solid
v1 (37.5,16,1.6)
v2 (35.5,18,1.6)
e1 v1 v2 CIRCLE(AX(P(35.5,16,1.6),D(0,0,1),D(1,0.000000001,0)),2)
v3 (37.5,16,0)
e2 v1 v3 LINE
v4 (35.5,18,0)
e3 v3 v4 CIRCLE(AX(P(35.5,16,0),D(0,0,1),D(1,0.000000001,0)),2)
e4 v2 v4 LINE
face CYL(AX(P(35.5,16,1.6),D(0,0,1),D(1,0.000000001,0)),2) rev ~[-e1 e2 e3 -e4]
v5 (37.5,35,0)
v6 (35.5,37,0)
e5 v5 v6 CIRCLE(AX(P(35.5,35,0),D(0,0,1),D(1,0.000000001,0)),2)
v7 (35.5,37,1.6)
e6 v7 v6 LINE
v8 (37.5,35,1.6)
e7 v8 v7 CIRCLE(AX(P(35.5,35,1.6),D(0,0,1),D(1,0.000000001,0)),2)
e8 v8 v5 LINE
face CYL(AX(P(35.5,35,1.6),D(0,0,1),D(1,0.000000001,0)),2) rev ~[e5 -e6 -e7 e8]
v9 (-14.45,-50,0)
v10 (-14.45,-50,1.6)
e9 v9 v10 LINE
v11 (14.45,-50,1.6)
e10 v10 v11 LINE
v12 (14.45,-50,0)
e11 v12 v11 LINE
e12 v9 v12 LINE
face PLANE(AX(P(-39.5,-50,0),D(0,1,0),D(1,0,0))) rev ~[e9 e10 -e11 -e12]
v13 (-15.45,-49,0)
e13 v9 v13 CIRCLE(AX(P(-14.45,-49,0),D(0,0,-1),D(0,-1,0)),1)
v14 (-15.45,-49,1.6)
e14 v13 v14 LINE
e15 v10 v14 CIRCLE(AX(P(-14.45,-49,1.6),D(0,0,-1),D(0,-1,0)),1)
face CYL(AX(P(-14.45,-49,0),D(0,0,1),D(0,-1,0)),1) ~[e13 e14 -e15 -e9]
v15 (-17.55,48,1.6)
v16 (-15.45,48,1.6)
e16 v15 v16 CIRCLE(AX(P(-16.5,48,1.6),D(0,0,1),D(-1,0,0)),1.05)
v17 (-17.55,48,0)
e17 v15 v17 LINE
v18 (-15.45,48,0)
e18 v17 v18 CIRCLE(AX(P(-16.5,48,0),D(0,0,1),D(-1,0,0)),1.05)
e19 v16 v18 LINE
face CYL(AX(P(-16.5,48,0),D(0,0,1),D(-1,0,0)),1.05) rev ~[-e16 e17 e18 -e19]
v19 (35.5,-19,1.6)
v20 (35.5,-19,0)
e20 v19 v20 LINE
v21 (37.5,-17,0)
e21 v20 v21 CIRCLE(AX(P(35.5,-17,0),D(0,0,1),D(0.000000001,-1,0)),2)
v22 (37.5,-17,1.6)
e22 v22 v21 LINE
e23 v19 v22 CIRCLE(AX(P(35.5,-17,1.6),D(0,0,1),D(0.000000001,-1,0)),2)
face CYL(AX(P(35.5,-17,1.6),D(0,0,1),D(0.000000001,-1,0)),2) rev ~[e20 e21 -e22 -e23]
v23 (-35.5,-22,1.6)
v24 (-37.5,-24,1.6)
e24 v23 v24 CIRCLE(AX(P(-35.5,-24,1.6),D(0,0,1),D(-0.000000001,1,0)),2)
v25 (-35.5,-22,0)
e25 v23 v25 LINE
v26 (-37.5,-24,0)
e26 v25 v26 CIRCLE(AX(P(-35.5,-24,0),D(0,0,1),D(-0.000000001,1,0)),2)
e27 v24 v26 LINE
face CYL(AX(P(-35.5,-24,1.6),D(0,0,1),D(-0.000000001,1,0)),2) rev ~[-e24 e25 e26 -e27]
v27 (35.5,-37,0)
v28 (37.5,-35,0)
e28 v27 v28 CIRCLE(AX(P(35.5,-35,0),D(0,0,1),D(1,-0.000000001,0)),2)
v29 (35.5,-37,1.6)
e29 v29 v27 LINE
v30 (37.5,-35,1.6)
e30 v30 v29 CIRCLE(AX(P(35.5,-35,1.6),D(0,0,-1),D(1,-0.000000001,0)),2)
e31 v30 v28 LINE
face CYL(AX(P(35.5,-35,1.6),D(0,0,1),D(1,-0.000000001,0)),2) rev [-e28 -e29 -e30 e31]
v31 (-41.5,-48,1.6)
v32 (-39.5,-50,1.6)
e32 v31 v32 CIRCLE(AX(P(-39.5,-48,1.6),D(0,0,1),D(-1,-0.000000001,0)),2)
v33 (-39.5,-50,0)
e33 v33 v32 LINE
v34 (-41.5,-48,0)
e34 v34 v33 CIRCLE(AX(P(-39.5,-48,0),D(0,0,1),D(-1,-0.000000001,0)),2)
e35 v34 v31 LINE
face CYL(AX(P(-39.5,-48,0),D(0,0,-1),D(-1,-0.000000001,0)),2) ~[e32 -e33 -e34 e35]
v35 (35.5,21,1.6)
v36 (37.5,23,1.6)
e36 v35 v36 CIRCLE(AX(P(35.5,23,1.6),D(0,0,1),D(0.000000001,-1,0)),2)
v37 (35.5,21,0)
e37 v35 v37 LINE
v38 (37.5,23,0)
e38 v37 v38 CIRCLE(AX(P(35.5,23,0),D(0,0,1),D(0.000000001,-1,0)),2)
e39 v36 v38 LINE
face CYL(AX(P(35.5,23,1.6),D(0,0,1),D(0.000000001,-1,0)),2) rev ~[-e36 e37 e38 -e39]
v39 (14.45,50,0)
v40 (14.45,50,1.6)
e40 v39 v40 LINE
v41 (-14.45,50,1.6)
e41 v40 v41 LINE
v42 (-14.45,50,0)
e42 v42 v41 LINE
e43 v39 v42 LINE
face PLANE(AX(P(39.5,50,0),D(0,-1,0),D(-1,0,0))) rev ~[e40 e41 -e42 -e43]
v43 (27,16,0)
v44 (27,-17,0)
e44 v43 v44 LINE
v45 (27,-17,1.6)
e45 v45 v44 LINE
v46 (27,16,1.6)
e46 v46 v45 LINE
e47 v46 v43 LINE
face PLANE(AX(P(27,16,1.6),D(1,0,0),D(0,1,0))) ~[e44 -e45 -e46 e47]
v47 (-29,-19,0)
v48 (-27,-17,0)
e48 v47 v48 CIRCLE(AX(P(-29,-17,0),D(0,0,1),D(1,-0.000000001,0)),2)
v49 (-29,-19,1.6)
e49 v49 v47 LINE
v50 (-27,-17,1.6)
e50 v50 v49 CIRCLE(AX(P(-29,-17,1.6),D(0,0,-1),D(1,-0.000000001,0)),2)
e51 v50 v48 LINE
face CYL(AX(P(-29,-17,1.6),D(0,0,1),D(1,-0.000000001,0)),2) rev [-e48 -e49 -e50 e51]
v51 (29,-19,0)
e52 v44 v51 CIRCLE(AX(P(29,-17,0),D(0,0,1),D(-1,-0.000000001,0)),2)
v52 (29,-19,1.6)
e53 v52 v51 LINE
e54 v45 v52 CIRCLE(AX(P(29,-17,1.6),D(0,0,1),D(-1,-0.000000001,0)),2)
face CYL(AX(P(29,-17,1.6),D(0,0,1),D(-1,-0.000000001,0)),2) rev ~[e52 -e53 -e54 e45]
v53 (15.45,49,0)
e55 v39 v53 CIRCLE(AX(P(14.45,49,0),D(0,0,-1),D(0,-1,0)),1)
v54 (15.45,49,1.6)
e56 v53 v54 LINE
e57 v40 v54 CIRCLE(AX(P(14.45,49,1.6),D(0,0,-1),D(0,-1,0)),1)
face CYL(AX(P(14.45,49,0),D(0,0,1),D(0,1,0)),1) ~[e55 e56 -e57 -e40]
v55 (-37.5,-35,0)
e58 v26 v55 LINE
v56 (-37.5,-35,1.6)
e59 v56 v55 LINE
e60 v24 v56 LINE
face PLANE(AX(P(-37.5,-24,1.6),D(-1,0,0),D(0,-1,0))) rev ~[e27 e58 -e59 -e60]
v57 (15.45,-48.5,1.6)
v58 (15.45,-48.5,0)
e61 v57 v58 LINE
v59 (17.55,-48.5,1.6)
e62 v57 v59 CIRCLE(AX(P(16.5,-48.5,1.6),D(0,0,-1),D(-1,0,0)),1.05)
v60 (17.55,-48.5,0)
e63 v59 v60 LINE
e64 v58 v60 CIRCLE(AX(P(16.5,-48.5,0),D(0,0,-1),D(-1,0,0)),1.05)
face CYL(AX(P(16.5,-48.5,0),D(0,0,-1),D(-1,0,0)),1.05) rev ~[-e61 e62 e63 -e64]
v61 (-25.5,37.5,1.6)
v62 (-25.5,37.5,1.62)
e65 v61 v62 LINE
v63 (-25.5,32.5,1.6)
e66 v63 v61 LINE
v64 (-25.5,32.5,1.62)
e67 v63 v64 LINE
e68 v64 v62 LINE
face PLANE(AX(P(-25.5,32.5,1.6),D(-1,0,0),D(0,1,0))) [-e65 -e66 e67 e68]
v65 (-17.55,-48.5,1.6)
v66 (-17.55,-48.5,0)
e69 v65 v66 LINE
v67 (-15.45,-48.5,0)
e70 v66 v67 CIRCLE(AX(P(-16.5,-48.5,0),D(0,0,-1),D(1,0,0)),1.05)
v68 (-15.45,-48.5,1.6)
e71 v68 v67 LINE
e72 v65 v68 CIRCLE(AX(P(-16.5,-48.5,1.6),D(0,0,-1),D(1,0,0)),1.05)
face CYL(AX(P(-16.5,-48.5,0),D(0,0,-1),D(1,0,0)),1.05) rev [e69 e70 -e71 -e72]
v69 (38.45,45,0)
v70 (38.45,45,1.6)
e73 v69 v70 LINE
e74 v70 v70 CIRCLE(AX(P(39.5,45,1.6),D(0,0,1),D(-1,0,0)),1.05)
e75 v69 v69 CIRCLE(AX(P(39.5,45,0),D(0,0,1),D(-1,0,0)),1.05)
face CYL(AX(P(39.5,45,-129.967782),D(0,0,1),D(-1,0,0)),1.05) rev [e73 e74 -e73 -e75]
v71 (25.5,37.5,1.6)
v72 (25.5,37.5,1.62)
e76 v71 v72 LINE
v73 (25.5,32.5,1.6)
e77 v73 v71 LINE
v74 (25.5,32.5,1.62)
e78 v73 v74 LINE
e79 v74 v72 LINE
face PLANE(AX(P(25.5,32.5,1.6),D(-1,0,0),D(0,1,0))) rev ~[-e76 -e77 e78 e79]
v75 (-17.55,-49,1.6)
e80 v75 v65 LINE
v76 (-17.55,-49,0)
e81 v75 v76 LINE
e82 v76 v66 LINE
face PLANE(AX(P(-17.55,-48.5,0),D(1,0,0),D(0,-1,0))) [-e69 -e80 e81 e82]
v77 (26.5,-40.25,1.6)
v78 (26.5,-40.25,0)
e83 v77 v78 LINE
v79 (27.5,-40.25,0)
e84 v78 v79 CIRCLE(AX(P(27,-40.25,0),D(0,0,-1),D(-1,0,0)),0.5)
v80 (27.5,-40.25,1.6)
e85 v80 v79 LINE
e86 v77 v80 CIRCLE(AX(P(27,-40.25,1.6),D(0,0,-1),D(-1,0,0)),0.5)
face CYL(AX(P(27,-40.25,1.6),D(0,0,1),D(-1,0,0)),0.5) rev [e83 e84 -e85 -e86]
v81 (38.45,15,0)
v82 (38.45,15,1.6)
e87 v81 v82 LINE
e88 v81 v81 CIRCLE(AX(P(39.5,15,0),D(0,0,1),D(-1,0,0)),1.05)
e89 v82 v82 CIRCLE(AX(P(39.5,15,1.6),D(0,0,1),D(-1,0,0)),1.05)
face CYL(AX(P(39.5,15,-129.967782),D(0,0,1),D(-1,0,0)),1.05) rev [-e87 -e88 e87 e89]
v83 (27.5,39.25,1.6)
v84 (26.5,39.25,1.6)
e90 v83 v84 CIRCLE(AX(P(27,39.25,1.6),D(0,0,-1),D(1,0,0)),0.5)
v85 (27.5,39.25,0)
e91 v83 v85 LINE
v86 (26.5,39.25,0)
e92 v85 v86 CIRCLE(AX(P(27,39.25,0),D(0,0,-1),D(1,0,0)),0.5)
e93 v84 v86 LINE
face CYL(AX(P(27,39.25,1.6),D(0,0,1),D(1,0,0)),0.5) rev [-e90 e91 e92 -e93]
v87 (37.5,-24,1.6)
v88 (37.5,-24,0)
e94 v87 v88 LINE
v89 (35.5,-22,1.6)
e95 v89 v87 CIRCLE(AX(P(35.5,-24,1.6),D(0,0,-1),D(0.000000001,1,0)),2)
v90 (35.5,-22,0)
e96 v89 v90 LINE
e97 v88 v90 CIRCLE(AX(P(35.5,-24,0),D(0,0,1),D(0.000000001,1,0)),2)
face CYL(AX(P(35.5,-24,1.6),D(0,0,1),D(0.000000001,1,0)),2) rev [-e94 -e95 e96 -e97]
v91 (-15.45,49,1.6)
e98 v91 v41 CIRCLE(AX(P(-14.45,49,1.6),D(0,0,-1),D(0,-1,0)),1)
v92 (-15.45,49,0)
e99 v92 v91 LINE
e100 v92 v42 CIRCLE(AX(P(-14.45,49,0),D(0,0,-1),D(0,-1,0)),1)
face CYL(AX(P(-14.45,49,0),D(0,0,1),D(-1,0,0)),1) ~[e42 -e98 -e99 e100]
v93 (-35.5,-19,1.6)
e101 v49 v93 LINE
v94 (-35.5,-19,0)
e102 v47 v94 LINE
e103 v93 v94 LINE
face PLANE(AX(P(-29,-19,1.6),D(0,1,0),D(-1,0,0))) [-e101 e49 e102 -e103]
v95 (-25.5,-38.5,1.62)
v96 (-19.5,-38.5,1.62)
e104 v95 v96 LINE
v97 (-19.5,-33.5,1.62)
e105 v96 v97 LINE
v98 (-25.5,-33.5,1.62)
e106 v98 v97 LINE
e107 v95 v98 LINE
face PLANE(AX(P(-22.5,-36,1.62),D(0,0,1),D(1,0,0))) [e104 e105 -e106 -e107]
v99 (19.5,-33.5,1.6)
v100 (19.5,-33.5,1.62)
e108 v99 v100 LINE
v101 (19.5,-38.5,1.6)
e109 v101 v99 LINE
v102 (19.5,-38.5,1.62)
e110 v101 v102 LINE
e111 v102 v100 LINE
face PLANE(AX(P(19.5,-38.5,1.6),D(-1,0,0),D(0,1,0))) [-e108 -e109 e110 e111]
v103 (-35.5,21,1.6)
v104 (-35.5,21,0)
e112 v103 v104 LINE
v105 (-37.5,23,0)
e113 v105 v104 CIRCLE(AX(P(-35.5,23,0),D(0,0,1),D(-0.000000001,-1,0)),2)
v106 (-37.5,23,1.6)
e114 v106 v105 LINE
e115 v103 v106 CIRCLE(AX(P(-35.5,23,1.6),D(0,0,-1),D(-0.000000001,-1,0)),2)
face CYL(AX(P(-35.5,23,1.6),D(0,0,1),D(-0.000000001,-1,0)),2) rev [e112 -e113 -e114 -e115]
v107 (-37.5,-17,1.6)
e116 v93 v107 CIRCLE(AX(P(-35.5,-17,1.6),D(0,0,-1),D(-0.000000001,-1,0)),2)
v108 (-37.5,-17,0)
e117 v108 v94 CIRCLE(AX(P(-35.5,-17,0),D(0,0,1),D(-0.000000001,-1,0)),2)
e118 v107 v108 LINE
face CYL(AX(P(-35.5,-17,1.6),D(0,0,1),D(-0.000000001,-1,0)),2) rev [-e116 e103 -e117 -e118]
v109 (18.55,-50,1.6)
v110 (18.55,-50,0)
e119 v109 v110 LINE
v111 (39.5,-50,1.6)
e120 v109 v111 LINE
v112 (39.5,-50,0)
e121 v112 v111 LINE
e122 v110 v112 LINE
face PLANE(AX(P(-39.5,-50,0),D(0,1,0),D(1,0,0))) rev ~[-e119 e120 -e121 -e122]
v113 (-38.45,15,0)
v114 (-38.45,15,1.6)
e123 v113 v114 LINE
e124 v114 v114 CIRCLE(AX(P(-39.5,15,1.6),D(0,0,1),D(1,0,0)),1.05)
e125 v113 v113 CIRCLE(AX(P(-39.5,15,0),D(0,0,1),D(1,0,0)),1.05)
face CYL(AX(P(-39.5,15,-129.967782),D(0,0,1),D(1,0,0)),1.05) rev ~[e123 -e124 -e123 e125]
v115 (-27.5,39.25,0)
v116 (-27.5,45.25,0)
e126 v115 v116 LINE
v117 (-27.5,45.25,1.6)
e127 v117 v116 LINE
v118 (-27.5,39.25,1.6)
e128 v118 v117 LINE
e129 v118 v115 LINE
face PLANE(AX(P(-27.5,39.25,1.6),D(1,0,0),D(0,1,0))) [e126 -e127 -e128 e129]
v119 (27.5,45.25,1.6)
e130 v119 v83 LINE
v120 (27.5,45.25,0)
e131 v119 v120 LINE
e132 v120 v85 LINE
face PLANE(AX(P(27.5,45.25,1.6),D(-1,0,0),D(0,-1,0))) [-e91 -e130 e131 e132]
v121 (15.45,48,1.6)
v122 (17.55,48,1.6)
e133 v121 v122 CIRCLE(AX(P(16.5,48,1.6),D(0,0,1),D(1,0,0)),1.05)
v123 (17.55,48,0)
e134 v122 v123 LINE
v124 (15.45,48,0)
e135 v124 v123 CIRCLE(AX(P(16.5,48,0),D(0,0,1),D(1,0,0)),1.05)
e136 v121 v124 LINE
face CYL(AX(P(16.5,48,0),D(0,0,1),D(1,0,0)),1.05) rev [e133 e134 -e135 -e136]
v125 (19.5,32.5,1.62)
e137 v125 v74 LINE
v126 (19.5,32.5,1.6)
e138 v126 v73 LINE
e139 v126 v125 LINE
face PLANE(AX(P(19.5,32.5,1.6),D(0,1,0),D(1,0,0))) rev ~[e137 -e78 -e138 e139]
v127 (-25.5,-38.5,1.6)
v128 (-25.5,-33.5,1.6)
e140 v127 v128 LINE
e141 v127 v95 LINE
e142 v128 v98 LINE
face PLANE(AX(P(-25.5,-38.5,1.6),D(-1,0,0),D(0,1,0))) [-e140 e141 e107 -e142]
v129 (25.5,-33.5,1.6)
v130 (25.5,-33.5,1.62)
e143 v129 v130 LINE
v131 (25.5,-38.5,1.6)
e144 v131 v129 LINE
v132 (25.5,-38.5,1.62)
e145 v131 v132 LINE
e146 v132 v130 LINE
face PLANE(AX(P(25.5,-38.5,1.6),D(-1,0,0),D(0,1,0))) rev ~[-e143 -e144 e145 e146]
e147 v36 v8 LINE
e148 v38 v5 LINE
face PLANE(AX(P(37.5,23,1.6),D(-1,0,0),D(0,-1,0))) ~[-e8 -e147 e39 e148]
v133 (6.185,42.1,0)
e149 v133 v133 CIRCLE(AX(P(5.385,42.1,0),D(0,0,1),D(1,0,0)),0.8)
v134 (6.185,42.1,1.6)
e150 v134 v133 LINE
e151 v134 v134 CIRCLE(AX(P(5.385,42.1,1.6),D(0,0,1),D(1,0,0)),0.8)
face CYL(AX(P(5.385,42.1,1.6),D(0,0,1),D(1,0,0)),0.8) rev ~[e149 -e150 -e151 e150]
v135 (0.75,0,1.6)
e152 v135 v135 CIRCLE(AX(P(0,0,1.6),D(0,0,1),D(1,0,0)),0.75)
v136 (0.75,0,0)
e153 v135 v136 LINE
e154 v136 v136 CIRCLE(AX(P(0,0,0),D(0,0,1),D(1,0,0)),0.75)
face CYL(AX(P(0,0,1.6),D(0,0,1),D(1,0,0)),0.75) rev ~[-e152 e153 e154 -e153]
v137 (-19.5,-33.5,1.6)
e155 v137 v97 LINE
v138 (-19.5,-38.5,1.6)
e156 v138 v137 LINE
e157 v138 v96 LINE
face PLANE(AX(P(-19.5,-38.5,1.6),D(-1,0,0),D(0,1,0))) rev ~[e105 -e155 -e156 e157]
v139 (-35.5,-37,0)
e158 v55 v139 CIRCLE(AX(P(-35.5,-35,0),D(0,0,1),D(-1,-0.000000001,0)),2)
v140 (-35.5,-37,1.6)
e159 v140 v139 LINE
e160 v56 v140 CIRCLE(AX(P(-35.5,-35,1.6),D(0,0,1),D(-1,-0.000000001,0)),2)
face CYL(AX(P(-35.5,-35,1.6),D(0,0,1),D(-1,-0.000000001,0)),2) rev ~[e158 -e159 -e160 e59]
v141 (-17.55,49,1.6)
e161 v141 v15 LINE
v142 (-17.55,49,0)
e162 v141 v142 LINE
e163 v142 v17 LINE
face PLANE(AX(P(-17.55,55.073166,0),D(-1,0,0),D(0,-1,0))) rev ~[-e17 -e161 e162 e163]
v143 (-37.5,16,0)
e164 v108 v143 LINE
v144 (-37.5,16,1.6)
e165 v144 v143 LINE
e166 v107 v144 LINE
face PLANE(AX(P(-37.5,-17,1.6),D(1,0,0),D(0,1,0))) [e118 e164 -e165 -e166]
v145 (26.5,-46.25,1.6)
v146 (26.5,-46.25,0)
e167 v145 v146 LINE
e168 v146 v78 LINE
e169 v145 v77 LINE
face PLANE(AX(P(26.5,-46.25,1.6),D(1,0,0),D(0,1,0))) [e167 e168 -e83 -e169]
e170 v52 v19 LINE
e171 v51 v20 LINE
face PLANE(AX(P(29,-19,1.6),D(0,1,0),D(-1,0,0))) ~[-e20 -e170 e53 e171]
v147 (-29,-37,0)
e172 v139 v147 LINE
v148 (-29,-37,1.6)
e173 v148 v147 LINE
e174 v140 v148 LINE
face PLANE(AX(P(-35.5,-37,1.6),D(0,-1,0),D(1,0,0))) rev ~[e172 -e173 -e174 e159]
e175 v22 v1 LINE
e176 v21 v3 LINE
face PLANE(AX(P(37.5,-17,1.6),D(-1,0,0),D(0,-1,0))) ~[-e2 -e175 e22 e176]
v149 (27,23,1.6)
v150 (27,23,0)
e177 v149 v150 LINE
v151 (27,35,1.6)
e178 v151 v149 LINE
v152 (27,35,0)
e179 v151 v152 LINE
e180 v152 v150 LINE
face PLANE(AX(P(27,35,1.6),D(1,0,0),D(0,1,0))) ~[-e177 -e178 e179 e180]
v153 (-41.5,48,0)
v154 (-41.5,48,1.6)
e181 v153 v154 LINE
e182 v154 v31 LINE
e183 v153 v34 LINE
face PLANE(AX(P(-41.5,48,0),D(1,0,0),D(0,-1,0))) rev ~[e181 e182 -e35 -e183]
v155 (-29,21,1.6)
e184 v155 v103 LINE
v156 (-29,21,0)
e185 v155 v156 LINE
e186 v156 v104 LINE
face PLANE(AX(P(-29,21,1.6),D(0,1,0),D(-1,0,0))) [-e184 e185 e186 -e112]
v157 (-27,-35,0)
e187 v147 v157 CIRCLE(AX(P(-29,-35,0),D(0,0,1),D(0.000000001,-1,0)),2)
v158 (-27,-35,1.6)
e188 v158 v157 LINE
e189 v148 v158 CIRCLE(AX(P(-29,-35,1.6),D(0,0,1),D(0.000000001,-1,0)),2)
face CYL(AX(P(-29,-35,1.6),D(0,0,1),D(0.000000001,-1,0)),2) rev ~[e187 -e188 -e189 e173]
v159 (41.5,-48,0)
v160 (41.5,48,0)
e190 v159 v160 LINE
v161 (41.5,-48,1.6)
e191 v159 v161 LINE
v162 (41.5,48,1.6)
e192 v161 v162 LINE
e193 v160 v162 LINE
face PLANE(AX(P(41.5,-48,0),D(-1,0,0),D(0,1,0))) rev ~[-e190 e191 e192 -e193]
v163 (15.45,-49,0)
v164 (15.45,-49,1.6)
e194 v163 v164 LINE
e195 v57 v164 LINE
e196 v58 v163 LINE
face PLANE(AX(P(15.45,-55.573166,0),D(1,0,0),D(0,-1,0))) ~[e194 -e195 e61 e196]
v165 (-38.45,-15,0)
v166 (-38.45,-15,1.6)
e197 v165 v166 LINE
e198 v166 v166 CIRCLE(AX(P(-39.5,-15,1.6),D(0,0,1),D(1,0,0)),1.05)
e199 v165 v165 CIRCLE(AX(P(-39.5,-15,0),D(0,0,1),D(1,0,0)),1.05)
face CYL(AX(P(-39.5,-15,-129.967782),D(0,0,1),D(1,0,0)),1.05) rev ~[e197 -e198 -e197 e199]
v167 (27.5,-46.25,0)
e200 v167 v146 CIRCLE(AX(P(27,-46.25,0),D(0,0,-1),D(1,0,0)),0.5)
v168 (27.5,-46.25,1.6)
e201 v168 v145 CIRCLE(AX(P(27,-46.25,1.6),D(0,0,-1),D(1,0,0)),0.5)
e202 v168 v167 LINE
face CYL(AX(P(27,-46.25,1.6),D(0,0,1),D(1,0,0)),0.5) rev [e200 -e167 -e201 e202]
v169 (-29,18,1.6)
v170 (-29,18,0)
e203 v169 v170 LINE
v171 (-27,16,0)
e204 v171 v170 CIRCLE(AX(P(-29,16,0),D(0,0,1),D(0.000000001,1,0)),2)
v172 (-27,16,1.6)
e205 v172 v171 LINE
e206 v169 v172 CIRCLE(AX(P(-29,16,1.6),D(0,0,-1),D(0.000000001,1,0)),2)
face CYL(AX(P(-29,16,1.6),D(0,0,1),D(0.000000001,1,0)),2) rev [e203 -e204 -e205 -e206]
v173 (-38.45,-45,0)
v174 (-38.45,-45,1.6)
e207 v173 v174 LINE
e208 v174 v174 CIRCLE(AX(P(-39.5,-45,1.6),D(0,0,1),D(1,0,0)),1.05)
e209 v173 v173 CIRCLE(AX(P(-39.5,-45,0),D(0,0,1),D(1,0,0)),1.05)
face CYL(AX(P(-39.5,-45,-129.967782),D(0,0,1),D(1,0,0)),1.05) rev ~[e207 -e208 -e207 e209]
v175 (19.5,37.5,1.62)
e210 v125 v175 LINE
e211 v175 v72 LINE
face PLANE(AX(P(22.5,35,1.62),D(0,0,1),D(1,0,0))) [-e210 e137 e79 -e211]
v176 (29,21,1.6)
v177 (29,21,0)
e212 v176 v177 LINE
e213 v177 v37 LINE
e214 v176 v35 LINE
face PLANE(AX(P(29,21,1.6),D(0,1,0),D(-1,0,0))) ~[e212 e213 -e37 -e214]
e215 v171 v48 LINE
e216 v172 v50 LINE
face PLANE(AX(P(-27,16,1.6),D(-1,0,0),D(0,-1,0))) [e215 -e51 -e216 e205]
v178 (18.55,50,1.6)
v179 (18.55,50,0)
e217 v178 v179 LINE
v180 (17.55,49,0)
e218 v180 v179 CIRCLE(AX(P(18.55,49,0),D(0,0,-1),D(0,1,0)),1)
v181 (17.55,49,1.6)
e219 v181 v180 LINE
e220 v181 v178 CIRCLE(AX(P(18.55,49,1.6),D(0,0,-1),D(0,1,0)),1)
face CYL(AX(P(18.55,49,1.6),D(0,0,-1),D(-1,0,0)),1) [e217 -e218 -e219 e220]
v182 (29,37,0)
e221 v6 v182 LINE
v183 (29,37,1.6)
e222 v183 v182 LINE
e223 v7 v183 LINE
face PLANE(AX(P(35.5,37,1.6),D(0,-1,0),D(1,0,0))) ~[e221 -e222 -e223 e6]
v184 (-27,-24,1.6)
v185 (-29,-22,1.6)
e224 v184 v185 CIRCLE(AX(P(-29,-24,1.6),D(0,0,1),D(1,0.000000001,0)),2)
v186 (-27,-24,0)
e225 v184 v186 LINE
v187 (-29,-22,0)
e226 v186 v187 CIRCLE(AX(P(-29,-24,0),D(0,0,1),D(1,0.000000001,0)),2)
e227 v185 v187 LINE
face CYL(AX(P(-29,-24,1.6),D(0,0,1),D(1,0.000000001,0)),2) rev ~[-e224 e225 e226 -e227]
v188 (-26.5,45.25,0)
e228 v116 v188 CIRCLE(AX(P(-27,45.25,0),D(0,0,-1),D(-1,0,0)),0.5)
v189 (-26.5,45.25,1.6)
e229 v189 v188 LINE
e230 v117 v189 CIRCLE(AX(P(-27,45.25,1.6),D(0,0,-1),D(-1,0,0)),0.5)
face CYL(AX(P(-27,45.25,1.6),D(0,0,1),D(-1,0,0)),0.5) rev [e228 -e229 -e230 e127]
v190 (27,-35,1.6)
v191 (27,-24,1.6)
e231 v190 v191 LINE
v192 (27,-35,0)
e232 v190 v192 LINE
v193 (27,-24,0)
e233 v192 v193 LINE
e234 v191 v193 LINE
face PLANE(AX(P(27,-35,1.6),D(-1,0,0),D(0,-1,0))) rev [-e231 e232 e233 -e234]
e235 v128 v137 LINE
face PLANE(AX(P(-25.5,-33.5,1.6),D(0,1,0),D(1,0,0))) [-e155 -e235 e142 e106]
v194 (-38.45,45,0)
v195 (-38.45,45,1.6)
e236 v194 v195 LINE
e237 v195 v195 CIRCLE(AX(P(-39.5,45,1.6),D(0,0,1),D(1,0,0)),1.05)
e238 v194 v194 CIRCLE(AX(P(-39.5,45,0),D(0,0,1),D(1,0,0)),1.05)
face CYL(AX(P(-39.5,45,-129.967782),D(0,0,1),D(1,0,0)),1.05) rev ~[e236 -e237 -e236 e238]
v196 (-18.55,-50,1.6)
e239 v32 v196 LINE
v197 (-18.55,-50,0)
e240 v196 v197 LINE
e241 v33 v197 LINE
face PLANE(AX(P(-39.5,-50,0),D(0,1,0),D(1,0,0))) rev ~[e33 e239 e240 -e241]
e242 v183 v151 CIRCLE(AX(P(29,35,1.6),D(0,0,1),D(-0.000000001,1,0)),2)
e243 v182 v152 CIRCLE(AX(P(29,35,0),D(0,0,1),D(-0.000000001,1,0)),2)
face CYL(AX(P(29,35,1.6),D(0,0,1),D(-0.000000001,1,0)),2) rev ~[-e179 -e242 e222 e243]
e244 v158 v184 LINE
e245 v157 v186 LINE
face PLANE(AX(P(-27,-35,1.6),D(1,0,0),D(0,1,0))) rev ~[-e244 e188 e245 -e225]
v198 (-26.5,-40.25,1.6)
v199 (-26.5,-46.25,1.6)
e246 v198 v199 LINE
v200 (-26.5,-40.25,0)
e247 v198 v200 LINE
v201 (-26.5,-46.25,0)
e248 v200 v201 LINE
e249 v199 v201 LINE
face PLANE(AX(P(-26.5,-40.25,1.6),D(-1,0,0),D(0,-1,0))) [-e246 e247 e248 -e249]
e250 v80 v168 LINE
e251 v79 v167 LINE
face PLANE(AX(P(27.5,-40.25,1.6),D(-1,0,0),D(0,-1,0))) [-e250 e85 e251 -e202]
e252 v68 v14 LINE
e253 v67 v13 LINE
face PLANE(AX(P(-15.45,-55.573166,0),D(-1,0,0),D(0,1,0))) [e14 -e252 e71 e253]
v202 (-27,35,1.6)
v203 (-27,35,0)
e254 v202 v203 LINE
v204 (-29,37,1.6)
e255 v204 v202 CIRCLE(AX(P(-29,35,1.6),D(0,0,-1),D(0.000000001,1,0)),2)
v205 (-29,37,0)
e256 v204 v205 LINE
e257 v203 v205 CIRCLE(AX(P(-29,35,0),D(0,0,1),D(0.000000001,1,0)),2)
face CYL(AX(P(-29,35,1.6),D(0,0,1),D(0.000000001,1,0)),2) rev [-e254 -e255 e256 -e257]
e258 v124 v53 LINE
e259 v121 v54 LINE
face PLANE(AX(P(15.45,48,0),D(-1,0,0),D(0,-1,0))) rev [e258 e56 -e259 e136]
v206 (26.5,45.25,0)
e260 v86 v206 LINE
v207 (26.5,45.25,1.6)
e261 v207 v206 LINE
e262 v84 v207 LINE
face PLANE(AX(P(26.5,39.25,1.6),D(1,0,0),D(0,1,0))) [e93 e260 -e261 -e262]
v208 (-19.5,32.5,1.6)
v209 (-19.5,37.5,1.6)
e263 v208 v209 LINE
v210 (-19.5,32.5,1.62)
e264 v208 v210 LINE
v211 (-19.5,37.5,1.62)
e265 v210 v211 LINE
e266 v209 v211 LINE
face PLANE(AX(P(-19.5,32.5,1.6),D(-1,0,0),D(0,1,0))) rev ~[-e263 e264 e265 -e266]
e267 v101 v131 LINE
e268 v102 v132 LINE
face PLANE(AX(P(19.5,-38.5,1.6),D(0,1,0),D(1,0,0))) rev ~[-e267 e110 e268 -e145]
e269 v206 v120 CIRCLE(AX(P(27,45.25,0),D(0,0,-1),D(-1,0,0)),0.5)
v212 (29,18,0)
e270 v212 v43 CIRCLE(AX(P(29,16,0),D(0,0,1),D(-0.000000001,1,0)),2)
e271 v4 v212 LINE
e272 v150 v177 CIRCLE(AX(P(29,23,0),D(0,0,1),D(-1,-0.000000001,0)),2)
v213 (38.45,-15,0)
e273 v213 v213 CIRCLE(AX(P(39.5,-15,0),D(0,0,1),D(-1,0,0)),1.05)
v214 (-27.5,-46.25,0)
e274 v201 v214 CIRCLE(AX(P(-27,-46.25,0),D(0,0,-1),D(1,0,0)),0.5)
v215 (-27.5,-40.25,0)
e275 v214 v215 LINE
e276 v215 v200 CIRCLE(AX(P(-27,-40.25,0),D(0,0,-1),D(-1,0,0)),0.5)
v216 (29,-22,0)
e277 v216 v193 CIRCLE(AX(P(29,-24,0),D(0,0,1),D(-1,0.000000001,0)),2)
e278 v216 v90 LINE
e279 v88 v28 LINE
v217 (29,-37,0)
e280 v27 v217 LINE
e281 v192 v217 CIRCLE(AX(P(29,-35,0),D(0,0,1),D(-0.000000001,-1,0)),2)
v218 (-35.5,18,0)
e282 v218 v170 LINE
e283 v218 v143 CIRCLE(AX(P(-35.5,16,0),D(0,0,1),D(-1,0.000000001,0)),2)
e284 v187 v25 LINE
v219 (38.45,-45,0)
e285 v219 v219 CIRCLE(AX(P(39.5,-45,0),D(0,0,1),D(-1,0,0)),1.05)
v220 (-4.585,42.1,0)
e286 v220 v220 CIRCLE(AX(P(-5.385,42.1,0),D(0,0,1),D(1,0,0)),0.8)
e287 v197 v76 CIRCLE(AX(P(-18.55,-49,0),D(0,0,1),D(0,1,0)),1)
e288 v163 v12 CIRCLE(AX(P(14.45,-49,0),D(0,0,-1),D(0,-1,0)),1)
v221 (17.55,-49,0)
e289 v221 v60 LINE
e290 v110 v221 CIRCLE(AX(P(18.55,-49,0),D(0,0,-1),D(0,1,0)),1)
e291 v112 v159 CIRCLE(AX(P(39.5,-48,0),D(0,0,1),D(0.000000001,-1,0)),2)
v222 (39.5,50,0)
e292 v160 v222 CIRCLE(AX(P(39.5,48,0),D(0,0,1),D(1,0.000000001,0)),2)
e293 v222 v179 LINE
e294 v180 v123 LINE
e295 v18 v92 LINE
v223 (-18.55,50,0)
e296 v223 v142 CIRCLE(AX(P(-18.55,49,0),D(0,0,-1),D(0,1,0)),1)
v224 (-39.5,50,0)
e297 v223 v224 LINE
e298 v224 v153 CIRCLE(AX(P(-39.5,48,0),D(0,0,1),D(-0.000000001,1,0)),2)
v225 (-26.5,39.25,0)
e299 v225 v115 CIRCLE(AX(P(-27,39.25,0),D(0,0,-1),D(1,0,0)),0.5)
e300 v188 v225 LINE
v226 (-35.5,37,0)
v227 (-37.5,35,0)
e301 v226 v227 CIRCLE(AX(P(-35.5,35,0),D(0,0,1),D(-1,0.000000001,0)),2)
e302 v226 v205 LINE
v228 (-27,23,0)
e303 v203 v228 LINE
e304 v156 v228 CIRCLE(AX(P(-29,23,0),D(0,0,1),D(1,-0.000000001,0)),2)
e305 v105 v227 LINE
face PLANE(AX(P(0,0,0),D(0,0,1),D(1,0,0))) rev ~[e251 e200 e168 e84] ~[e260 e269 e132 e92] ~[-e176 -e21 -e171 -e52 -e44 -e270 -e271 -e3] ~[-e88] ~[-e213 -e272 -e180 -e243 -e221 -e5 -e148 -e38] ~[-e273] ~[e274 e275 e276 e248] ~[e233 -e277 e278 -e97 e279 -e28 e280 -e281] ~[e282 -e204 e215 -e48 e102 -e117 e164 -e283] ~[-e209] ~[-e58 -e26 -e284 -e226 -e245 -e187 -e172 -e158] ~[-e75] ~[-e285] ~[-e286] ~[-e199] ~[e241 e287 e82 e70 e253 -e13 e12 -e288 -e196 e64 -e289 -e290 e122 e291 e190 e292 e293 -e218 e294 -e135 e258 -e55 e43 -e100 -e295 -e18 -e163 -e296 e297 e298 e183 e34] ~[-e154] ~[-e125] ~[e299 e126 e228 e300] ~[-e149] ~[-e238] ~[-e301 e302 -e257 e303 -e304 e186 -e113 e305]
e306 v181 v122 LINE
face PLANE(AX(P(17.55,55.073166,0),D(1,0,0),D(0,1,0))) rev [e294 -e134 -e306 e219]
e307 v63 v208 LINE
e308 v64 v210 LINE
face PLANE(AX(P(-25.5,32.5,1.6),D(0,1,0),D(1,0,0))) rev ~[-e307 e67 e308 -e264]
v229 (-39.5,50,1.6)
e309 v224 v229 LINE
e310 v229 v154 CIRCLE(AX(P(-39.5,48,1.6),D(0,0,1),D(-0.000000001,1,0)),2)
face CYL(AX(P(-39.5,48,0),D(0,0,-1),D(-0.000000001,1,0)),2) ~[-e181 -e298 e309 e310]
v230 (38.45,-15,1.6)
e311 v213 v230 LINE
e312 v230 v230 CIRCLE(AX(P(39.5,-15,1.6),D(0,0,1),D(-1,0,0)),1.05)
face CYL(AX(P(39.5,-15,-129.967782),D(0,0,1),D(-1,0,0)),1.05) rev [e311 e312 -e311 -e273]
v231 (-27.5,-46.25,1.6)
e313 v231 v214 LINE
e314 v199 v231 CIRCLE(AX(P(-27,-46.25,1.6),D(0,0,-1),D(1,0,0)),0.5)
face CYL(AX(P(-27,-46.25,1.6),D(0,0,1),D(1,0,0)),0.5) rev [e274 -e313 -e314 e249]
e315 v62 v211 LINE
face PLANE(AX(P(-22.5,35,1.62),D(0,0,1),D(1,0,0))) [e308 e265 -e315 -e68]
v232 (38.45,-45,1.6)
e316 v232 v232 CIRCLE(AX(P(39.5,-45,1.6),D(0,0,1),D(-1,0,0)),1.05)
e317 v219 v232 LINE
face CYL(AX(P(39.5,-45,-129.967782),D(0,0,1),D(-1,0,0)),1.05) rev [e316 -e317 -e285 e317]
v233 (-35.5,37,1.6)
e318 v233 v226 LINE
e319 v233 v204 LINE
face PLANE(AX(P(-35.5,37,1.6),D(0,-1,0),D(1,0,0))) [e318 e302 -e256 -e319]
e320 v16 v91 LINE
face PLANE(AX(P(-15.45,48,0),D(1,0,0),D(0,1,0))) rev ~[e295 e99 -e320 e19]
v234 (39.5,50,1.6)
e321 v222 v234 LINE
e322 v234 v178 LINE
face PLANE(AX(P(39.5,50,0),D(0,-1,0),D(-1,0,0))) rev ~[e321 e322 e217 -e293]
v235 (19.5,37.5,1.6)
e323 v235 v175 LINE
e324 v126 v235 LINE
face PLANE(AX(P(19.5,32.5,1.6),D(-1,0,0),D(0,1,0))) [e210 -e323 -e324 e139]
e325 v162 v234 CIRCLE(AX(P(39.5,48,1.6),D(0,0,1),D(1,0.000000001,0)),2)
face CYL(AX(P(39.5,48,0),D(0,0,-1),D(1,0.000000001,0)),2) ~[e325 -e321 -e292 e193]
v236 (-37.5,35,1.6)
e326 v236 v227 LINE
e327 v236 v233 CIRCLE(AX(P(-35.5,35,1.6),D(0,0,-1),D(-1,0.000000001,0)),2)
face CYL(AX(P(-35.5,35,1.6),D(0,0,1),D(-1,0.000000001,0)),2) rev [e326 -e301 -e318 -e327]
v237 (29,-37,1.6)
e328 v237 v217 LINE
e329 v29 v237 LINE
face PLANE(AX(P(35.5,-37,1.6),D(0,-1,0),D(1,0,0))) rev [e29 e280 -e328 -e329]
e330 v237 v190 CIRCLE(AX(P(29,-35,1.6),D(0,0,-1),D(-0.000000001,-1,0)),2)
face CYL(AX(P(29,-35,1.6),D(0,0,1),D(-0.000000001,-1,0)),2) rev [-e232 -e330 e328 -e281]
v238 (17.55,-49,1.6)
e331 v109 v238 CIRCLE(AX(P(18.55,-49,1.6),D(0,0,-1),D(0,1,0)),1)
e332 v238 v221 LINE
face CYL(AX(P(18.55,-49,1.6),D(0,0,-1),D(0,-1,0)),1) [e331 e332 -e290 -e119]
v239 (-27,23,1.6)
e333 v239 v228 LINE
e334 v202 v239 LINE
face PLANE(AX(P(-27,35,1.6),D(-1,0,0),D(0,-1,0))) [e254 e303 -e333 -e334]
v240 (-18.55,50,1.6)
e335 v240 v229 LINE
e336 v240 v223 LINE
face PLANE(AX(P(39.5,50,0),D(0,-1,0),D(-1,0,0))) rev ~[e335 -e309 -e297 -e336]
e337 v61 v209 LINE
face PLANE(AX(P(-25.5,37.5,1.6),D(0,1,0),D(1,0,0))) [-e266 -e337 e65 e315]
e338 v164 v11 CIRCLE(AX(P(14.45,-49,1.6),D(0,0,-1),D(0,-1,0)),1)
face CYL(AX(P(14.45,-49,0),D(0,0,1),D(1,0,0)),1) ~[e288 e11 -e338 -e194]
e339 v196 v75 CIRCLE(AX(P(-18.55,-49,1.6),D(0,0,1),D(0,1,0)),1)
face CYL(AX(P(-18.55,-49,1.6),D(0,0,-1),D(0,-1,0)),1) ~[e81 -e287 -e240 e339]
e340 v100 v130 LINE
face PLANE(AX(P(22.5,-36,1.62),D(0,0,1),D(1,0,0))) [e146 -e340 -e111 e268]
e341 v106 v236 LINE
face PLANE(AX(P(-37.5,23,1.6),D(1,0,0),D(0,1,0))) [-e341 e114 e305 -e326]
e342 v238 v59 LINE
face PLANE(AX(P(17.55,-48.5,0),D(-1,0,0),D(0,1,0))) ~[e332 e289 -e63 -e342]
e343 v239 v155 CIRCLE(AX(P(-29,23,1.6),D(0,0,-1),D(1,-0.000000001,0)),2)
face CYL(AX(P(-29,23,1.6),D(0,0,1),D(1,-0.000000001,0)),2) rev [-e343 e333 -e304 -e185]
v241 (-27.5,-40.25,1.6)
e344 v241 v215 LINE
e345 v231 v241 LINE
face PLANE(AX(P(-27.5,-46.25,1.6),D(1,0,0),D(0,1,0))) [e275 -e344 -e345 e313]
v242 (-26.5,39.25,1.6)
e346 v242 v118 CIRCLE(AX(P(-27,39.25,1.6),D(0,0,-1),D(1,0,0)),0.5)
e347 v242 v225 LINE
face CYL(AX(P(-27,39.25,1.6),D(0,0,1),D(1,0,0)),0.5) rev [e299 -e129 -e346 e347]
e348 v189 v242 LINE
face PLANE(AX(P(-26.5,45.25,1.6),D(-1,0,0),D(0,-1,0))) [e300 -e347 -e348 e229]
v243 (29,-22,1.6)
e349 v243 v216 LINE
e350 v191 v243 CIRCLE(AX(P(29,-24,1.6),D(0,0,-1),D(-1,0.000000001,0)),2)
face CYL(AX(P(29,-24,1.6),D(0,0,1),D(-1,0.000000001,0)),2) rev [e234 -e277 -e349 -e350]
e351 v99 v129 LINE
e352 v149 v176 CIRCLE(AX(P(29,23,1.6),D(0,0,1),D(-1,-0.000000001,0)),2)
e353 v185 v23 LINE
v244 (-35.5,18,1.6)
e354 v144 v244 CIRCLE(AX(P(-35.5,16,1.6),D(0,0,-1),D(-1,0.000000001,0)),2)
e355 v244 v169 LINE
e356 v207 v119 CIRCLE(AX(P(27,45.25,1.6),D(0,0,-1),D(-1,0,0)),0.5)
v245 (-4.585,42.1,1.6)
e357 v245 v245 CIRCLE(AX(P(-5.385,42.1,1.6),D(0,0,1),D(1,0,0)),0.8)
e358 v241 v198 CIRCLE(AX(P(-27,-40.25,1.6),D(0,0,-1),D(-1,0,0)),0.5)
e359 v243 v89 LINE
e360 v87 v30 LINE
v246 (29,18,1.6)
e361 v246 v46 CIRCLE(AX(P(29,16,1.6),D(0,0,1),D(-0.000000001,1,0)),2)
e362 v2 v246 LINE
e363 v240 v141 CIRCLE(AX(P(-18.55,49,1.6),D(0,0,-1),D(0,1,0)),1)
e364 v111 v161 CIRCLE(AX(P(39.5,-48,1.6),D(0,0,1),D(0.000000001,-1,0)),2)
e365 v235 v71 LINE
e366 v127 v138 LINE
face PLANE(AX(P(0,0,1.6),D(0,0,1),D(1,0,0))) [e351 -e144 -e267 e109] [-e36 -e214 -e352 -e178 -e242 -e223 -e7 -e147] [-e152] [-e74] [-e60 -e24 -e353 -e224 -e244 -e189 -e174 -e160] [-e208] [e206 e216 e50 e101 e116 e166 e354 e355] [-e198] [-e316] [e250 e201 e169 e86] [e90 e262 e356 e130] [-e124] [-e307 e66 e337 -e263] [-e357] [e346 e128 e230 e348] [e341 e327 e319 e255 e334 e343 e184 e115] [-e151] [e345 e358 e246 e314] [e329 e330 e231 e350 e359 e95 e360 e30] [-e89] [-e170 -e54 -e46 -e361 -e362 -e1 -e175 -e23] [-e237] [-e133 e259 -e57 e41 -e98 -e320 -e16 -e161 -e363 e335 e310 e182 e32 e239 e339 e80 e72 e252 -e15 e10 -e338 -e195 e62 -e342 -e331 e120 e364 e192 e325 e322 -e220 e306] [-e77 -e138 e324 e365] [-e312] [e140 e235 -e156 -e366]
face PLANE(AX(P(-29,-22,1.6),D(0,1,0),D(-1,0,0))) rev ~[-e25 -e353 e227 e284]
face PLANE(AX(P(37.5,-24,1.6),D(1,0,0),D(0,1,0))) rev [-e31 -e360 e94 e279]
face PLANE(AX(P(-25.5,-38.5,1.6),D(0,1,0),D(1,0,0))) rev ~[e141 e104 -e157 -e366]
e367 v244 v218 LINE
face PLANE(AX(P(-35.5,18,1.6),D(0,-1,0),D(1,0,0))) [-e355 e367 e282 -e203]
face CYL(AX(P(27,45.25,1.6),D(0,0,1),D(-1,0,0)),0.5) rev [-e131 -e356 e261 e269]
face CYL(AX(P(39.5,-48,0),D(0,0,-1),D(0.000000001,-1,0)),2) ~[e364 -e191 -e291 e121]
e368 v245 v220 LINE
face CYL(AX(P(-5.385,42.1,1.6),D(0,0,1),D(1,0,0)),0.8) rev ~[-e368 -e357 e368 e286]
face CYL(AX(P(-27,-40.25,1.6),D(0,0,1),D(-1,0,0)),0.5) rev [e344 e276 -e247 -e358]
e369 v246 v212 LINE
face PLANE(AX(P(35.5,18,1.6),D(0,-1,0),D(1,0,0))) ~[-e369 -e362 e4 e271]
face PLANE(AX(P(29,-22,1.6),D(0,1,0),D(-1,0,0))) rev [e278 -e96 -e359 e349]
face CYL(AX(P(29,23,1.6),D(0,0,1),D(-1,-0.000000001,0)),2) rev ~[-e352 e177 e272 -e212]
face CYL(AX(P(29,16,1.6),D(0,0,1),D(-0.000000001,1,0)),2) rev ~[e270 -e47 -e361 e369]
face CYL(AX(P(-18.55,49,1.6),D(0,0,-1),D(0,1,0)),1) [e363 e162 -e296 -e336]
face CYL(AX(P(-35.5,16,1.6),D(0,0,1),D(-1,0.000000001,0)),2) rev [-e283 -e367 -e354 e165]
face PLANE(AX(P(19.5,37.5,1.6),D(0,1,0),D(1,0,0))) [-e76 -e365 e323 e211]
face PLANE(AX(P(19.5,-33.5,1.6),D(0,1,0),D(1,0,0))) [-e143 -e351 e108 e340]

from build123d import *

# Parameters (mm, degrees)
BOARDOUTLINE_DEPTH          = 1.6
SKETCH2_R                   = 0.75
SKETCH2_R_2                 = 0.8
COMPONENTHOLES_DEPTH        = 65.998538445
SOLARCELLCONTACTHOLES_DEPTH = 1.6
WINDOWS_1SIDE_DEPTH         = 65.998538445
SKETCH5_W                   = 6
SKETCH5_H                   = 5
CONTACTPADS_DEPTH           = 0.02
M2_CLEARANCE_HOLE1_D        = 2.1
CUT_EXTRUDE1_DEPTH          = 65.999033839
FILLET3_R                   = 1
FILLET3_OF_MIRROR1_R        = 1


with BuildPart() as part:
    # Sketch1 → boardOutline (new body)
    with BuildSketch(Plane.XY):
        with BuildLine():
            Line((-39.5, -50), (39.5, -50))
            ThreePointArc((39.5, -50), (40.914213562, -49.414213562), (41.5, -48))
            Line((41.5, -48), (41.5, 48))
            ThreePointArc((41.5, 48), (40.914213562, 49.414213562), (39.5, 50))
            Line((39.5, 50), (-39.5, 50))
            ThreePointArc((-39.5, 50), (-40.914213562, 49.414213562), (-41.5, 48))
            Line((-41.5, 48), (-41.5, -48))
            ThreePointArc((-41.5, -48), (-40.914213562, -49.414213562), (-39.5, -50))
        make_face()
    extrude(amount=BOARDOUTLINE_DEPTH)

    # Sketch2 → componentHoles (cut, through all)
    with BuildSketch(Plane.XY.offset(1.6)):
        Circle(SKETCH2_R)
        with Locations((-5.385, 42.1)):
            Circle(SKETCH2_R_2)
        with Locations((5.385, 42.1)):
            Circle(SKETCH2_R_2)
    extrude(amount=-COMPONENTHOLES_DEPTH, mode=Mode.SUBTRACT)

    # Sketch4 → solarCellContactHoles (cut)
    with BuildSketch(Plane.XY.offset(1.6)):
        with BuildLine():
            Line((-27.5, 39.25), (-27.5, 45.25))
            ThreePointArc((-27.5, 45.25), (-27, 45.75), (-26.5, 45.25))
            Line((-26.5, 45.25), (-26.5, 39.25))
            ThreePointArc((-26.5, 39.25), (-27, 38.75), (-27.5, 39.25))
        make_face()
        with BuildLine():
            Line((26.5, 39.25), (26.5, 45.25))
            ThreePointArc((26.5, 45.25), (27, 45.75), (27.5, 45.25))
            Line((27.5, 45.25), (27.5, 39.25))
            ThreePointArc((27.5, 39.25), (27, 38.75), (26.5, 39.25))
        make_face()
        with BuildLine():
            Line((26.5, -46.25), (26.5, -40.25))
            ThreePointArc((26.5, -40.25), (27, -39.75), (27.5, -40.25))
            Line((27.5, -40.25), (27.5, -46.25))
            ThreePointArc((27.5, -46.25), (27, -46.75), (26.5, -46.25))
        make_face()
        with BuildLine():
            Line((-27.5, -46.25), (-27.5, -40.25))
            ThreePointArc((-27.5, -40.25), (-27, -39.75), (-26.5, -40.25))
            Line((-26.5, -40.25), (-26.5, -46.25))
            ThreePointArc((-26.5, -46.25), (-27, -46.75), (-27.5, -46.25))
        make_face()
    extrude(amount=-SOLARCELLCONTACTHOLES_DEPTH, mode=Mode.SUBTRACT)

    # Sketch3 → windows_1side (cut, through all)
    with BuildSketch(Plane.XY.offset(1.6)):
        with BuildLine():
            Line((-35.5, 37), (-29, 37))
            ThreePointArc((-29, 37), (-27.585786438, 36.414213562), (-27, 35))
            Line((-27, 35), (-27, 23))
            ThreePointArc((-27, 23), (-27.585786438, 21.585786438), (-29, 21))
            Line((-29, 21), (-35.5, 21))
            ThreePointArc((-35.5, 21), (-36.914213562, 21.585786438), (-37.5, 23))
            Line((-37.5, 23), (-37.5, 35))
            ThreePointArc((-37.5, 35), (-36.914213562, 36.414213562), (-35.5, 37))
        make_face()
        with BuildLine():
            Line((-29, -22), (-35.5, -22))
            ThreePointArc((-35.5, -22), (-36.914213562, -22.585786438), (-37.5, -24))
            Line((-37.5, -24), (-37.5, -35))
            ThreePointArc((-37.5, -35), (-36.914213562, -36.414213562), (-35.5, -37))
            Line((-35.5, -37), (-29, -37))
            ThreePointArc((-29, -37), (-27.585786438, -36.414213562), (-27, -35))
            Line((-27, -35), (-27, -24))
            ThreePointArc((-27, -24), (-27.585786438, -22.585786438), (-29, -22))
        make_face()
        with BuildLine():
            Line((-29, -19), (-35.5, -19))
            ThreePointArc((-35.5, -19), (-36.914213562, -18.414213562), (-37.5, -17))
            Line((-37.5, -17), (-37.5, 16))
            ThreePointArc((-37.5, 16), (-36.914213562, 17.414213562), (-35.5, 18))
            Line((-35.5, 18), (-29, 18))
            ThreePointArc((-29, 18), (-27.585786438, 17.414213562), (-27, 16))
            Line((-27, 16), (-27, -17))
            ThreePointArc((-27, -17), (-27.585786438, -18.414213562), (-29, -19))
        make_face()
    windows_1side = extrude(amount=-WINDOWS_1SIDE_DEPTH, mode=Mode.SUBTRACT)

    # Sketch5 → contactPads (add)
    with BuildSketch(Plane.XY.offset(1.6)):
        with Locations((-22.5, 35)):
            Rectangle(SKETCH5_W, SKETCH5_H)
        with Locations((22.5, 35)):
            Rectangle(SKETCH5_W, SKETCH5_H)
        with Locations((22.5, -36)):
            Rectangle(SKETCH5_W, SKETCH5_H)
        with Locations((-22.5, -36)):
            Rectangle(SKETCH5_W, SKETCH5_H)
    extrude(amount=CONTACTPADS_DEPTH)

    # M2 Clearance Hole1 (through all)
    with Locations(Plane(origin=(0, 0, 0), x_dir=(-1, 0, 0), z_dir=(0, 0, -1))):
        with Locations((39.5, 45), (39.5, -15), (39.5, -45), (39.5, 15)):
            m2_clearance_hole1 = Hole(M2_CLEARANCE_HOLE1_D / 2)

    # Sketch10 → Cut-Extrude1 (cut, symmetric)
    with BuildSketch(Plane(origin=(0, 0, 0), x_dir=(-1, 0, 0), z_dir=(0, 0, -1))):
        with BuildLine():
            Line((15.45, 48), (15.45, 55.073166109))
            ThreePointArc((15.45, 55.073166109), (16.5, 56.123166109), (17.55, 55.073166109))
            Line((17.55, 55.073166109), (17.55, 48))
            ThreePointArc((17.55, 48), (16.5, 46.95), (15.45, 48))
        make_face()
        with BuildLine():
            Line((17.55, -48.5), (17.55, -55.573166109))
            ThreePointArc((17.55, -55.573166109), (16.5, -56.623166109), (15.45, -55.573166109))
            Line((15.45, -55.573166109), (15.45, -48.5))
            ThreePointArc((15.45, -48.5), (16.5, -47.45), (17.55, -48.5))
        make_face()
    cut_extrude1 = extrude(amount=CUT_EXTRUDE1_DEPTH, both=True, mode=Mode.SUBTRACT)

    # Fillet3
    fillet3_edges = [part.edges().sort_by_distance(p)[0] for p in [
        (-15.45, 50, 0.8),
        (-17.55, 50, 0.8),
        (-17.55, -50, 0.8),
        (-15.45, -50, 0.8),
    ]]
    fillet(fillet3_edges, radius=FILLET3_R)

    # Mirror1: windows_1side, M2 Clearance Hole1, Cut-Extrude1 across plane
    add(windows_1side.mirror(Plane(origin=(0, 0, 0), x_dir=(0, 0, 1), z_dir=(1, 0, 0))), mode=Mode.SUBTRACT)
    add(m2_clearance_hole1.mirror(Plane(origin=(0, 0, 0), x_dir=(0, 0, 1), z_dir=(1, 0, 0))), mode=Mode.SUBTRACT)
    add(cut_extrude1.mirror(Plane(origin=(0, 0, 0), x_dir=(0, 0, 1), z_dir=(1, 0, 0))), mode=Mode.SUBTRACT)

    # Fillet3 of Mirror1
    fillet3_of_mirror1_edges = [part.edges().sort_by_distance(p)[0] for p in [
        (15.45, 50, 0.8),
        (17.55, 50, 0.8),
        (17.55, -50, 0.8),
        (15.45, -50, 0.8),
    ]]
    fillet(fillet3_of_mirror1_edges, radius=FILLET3_OF_MIRROR1_R)


solid = part.part
